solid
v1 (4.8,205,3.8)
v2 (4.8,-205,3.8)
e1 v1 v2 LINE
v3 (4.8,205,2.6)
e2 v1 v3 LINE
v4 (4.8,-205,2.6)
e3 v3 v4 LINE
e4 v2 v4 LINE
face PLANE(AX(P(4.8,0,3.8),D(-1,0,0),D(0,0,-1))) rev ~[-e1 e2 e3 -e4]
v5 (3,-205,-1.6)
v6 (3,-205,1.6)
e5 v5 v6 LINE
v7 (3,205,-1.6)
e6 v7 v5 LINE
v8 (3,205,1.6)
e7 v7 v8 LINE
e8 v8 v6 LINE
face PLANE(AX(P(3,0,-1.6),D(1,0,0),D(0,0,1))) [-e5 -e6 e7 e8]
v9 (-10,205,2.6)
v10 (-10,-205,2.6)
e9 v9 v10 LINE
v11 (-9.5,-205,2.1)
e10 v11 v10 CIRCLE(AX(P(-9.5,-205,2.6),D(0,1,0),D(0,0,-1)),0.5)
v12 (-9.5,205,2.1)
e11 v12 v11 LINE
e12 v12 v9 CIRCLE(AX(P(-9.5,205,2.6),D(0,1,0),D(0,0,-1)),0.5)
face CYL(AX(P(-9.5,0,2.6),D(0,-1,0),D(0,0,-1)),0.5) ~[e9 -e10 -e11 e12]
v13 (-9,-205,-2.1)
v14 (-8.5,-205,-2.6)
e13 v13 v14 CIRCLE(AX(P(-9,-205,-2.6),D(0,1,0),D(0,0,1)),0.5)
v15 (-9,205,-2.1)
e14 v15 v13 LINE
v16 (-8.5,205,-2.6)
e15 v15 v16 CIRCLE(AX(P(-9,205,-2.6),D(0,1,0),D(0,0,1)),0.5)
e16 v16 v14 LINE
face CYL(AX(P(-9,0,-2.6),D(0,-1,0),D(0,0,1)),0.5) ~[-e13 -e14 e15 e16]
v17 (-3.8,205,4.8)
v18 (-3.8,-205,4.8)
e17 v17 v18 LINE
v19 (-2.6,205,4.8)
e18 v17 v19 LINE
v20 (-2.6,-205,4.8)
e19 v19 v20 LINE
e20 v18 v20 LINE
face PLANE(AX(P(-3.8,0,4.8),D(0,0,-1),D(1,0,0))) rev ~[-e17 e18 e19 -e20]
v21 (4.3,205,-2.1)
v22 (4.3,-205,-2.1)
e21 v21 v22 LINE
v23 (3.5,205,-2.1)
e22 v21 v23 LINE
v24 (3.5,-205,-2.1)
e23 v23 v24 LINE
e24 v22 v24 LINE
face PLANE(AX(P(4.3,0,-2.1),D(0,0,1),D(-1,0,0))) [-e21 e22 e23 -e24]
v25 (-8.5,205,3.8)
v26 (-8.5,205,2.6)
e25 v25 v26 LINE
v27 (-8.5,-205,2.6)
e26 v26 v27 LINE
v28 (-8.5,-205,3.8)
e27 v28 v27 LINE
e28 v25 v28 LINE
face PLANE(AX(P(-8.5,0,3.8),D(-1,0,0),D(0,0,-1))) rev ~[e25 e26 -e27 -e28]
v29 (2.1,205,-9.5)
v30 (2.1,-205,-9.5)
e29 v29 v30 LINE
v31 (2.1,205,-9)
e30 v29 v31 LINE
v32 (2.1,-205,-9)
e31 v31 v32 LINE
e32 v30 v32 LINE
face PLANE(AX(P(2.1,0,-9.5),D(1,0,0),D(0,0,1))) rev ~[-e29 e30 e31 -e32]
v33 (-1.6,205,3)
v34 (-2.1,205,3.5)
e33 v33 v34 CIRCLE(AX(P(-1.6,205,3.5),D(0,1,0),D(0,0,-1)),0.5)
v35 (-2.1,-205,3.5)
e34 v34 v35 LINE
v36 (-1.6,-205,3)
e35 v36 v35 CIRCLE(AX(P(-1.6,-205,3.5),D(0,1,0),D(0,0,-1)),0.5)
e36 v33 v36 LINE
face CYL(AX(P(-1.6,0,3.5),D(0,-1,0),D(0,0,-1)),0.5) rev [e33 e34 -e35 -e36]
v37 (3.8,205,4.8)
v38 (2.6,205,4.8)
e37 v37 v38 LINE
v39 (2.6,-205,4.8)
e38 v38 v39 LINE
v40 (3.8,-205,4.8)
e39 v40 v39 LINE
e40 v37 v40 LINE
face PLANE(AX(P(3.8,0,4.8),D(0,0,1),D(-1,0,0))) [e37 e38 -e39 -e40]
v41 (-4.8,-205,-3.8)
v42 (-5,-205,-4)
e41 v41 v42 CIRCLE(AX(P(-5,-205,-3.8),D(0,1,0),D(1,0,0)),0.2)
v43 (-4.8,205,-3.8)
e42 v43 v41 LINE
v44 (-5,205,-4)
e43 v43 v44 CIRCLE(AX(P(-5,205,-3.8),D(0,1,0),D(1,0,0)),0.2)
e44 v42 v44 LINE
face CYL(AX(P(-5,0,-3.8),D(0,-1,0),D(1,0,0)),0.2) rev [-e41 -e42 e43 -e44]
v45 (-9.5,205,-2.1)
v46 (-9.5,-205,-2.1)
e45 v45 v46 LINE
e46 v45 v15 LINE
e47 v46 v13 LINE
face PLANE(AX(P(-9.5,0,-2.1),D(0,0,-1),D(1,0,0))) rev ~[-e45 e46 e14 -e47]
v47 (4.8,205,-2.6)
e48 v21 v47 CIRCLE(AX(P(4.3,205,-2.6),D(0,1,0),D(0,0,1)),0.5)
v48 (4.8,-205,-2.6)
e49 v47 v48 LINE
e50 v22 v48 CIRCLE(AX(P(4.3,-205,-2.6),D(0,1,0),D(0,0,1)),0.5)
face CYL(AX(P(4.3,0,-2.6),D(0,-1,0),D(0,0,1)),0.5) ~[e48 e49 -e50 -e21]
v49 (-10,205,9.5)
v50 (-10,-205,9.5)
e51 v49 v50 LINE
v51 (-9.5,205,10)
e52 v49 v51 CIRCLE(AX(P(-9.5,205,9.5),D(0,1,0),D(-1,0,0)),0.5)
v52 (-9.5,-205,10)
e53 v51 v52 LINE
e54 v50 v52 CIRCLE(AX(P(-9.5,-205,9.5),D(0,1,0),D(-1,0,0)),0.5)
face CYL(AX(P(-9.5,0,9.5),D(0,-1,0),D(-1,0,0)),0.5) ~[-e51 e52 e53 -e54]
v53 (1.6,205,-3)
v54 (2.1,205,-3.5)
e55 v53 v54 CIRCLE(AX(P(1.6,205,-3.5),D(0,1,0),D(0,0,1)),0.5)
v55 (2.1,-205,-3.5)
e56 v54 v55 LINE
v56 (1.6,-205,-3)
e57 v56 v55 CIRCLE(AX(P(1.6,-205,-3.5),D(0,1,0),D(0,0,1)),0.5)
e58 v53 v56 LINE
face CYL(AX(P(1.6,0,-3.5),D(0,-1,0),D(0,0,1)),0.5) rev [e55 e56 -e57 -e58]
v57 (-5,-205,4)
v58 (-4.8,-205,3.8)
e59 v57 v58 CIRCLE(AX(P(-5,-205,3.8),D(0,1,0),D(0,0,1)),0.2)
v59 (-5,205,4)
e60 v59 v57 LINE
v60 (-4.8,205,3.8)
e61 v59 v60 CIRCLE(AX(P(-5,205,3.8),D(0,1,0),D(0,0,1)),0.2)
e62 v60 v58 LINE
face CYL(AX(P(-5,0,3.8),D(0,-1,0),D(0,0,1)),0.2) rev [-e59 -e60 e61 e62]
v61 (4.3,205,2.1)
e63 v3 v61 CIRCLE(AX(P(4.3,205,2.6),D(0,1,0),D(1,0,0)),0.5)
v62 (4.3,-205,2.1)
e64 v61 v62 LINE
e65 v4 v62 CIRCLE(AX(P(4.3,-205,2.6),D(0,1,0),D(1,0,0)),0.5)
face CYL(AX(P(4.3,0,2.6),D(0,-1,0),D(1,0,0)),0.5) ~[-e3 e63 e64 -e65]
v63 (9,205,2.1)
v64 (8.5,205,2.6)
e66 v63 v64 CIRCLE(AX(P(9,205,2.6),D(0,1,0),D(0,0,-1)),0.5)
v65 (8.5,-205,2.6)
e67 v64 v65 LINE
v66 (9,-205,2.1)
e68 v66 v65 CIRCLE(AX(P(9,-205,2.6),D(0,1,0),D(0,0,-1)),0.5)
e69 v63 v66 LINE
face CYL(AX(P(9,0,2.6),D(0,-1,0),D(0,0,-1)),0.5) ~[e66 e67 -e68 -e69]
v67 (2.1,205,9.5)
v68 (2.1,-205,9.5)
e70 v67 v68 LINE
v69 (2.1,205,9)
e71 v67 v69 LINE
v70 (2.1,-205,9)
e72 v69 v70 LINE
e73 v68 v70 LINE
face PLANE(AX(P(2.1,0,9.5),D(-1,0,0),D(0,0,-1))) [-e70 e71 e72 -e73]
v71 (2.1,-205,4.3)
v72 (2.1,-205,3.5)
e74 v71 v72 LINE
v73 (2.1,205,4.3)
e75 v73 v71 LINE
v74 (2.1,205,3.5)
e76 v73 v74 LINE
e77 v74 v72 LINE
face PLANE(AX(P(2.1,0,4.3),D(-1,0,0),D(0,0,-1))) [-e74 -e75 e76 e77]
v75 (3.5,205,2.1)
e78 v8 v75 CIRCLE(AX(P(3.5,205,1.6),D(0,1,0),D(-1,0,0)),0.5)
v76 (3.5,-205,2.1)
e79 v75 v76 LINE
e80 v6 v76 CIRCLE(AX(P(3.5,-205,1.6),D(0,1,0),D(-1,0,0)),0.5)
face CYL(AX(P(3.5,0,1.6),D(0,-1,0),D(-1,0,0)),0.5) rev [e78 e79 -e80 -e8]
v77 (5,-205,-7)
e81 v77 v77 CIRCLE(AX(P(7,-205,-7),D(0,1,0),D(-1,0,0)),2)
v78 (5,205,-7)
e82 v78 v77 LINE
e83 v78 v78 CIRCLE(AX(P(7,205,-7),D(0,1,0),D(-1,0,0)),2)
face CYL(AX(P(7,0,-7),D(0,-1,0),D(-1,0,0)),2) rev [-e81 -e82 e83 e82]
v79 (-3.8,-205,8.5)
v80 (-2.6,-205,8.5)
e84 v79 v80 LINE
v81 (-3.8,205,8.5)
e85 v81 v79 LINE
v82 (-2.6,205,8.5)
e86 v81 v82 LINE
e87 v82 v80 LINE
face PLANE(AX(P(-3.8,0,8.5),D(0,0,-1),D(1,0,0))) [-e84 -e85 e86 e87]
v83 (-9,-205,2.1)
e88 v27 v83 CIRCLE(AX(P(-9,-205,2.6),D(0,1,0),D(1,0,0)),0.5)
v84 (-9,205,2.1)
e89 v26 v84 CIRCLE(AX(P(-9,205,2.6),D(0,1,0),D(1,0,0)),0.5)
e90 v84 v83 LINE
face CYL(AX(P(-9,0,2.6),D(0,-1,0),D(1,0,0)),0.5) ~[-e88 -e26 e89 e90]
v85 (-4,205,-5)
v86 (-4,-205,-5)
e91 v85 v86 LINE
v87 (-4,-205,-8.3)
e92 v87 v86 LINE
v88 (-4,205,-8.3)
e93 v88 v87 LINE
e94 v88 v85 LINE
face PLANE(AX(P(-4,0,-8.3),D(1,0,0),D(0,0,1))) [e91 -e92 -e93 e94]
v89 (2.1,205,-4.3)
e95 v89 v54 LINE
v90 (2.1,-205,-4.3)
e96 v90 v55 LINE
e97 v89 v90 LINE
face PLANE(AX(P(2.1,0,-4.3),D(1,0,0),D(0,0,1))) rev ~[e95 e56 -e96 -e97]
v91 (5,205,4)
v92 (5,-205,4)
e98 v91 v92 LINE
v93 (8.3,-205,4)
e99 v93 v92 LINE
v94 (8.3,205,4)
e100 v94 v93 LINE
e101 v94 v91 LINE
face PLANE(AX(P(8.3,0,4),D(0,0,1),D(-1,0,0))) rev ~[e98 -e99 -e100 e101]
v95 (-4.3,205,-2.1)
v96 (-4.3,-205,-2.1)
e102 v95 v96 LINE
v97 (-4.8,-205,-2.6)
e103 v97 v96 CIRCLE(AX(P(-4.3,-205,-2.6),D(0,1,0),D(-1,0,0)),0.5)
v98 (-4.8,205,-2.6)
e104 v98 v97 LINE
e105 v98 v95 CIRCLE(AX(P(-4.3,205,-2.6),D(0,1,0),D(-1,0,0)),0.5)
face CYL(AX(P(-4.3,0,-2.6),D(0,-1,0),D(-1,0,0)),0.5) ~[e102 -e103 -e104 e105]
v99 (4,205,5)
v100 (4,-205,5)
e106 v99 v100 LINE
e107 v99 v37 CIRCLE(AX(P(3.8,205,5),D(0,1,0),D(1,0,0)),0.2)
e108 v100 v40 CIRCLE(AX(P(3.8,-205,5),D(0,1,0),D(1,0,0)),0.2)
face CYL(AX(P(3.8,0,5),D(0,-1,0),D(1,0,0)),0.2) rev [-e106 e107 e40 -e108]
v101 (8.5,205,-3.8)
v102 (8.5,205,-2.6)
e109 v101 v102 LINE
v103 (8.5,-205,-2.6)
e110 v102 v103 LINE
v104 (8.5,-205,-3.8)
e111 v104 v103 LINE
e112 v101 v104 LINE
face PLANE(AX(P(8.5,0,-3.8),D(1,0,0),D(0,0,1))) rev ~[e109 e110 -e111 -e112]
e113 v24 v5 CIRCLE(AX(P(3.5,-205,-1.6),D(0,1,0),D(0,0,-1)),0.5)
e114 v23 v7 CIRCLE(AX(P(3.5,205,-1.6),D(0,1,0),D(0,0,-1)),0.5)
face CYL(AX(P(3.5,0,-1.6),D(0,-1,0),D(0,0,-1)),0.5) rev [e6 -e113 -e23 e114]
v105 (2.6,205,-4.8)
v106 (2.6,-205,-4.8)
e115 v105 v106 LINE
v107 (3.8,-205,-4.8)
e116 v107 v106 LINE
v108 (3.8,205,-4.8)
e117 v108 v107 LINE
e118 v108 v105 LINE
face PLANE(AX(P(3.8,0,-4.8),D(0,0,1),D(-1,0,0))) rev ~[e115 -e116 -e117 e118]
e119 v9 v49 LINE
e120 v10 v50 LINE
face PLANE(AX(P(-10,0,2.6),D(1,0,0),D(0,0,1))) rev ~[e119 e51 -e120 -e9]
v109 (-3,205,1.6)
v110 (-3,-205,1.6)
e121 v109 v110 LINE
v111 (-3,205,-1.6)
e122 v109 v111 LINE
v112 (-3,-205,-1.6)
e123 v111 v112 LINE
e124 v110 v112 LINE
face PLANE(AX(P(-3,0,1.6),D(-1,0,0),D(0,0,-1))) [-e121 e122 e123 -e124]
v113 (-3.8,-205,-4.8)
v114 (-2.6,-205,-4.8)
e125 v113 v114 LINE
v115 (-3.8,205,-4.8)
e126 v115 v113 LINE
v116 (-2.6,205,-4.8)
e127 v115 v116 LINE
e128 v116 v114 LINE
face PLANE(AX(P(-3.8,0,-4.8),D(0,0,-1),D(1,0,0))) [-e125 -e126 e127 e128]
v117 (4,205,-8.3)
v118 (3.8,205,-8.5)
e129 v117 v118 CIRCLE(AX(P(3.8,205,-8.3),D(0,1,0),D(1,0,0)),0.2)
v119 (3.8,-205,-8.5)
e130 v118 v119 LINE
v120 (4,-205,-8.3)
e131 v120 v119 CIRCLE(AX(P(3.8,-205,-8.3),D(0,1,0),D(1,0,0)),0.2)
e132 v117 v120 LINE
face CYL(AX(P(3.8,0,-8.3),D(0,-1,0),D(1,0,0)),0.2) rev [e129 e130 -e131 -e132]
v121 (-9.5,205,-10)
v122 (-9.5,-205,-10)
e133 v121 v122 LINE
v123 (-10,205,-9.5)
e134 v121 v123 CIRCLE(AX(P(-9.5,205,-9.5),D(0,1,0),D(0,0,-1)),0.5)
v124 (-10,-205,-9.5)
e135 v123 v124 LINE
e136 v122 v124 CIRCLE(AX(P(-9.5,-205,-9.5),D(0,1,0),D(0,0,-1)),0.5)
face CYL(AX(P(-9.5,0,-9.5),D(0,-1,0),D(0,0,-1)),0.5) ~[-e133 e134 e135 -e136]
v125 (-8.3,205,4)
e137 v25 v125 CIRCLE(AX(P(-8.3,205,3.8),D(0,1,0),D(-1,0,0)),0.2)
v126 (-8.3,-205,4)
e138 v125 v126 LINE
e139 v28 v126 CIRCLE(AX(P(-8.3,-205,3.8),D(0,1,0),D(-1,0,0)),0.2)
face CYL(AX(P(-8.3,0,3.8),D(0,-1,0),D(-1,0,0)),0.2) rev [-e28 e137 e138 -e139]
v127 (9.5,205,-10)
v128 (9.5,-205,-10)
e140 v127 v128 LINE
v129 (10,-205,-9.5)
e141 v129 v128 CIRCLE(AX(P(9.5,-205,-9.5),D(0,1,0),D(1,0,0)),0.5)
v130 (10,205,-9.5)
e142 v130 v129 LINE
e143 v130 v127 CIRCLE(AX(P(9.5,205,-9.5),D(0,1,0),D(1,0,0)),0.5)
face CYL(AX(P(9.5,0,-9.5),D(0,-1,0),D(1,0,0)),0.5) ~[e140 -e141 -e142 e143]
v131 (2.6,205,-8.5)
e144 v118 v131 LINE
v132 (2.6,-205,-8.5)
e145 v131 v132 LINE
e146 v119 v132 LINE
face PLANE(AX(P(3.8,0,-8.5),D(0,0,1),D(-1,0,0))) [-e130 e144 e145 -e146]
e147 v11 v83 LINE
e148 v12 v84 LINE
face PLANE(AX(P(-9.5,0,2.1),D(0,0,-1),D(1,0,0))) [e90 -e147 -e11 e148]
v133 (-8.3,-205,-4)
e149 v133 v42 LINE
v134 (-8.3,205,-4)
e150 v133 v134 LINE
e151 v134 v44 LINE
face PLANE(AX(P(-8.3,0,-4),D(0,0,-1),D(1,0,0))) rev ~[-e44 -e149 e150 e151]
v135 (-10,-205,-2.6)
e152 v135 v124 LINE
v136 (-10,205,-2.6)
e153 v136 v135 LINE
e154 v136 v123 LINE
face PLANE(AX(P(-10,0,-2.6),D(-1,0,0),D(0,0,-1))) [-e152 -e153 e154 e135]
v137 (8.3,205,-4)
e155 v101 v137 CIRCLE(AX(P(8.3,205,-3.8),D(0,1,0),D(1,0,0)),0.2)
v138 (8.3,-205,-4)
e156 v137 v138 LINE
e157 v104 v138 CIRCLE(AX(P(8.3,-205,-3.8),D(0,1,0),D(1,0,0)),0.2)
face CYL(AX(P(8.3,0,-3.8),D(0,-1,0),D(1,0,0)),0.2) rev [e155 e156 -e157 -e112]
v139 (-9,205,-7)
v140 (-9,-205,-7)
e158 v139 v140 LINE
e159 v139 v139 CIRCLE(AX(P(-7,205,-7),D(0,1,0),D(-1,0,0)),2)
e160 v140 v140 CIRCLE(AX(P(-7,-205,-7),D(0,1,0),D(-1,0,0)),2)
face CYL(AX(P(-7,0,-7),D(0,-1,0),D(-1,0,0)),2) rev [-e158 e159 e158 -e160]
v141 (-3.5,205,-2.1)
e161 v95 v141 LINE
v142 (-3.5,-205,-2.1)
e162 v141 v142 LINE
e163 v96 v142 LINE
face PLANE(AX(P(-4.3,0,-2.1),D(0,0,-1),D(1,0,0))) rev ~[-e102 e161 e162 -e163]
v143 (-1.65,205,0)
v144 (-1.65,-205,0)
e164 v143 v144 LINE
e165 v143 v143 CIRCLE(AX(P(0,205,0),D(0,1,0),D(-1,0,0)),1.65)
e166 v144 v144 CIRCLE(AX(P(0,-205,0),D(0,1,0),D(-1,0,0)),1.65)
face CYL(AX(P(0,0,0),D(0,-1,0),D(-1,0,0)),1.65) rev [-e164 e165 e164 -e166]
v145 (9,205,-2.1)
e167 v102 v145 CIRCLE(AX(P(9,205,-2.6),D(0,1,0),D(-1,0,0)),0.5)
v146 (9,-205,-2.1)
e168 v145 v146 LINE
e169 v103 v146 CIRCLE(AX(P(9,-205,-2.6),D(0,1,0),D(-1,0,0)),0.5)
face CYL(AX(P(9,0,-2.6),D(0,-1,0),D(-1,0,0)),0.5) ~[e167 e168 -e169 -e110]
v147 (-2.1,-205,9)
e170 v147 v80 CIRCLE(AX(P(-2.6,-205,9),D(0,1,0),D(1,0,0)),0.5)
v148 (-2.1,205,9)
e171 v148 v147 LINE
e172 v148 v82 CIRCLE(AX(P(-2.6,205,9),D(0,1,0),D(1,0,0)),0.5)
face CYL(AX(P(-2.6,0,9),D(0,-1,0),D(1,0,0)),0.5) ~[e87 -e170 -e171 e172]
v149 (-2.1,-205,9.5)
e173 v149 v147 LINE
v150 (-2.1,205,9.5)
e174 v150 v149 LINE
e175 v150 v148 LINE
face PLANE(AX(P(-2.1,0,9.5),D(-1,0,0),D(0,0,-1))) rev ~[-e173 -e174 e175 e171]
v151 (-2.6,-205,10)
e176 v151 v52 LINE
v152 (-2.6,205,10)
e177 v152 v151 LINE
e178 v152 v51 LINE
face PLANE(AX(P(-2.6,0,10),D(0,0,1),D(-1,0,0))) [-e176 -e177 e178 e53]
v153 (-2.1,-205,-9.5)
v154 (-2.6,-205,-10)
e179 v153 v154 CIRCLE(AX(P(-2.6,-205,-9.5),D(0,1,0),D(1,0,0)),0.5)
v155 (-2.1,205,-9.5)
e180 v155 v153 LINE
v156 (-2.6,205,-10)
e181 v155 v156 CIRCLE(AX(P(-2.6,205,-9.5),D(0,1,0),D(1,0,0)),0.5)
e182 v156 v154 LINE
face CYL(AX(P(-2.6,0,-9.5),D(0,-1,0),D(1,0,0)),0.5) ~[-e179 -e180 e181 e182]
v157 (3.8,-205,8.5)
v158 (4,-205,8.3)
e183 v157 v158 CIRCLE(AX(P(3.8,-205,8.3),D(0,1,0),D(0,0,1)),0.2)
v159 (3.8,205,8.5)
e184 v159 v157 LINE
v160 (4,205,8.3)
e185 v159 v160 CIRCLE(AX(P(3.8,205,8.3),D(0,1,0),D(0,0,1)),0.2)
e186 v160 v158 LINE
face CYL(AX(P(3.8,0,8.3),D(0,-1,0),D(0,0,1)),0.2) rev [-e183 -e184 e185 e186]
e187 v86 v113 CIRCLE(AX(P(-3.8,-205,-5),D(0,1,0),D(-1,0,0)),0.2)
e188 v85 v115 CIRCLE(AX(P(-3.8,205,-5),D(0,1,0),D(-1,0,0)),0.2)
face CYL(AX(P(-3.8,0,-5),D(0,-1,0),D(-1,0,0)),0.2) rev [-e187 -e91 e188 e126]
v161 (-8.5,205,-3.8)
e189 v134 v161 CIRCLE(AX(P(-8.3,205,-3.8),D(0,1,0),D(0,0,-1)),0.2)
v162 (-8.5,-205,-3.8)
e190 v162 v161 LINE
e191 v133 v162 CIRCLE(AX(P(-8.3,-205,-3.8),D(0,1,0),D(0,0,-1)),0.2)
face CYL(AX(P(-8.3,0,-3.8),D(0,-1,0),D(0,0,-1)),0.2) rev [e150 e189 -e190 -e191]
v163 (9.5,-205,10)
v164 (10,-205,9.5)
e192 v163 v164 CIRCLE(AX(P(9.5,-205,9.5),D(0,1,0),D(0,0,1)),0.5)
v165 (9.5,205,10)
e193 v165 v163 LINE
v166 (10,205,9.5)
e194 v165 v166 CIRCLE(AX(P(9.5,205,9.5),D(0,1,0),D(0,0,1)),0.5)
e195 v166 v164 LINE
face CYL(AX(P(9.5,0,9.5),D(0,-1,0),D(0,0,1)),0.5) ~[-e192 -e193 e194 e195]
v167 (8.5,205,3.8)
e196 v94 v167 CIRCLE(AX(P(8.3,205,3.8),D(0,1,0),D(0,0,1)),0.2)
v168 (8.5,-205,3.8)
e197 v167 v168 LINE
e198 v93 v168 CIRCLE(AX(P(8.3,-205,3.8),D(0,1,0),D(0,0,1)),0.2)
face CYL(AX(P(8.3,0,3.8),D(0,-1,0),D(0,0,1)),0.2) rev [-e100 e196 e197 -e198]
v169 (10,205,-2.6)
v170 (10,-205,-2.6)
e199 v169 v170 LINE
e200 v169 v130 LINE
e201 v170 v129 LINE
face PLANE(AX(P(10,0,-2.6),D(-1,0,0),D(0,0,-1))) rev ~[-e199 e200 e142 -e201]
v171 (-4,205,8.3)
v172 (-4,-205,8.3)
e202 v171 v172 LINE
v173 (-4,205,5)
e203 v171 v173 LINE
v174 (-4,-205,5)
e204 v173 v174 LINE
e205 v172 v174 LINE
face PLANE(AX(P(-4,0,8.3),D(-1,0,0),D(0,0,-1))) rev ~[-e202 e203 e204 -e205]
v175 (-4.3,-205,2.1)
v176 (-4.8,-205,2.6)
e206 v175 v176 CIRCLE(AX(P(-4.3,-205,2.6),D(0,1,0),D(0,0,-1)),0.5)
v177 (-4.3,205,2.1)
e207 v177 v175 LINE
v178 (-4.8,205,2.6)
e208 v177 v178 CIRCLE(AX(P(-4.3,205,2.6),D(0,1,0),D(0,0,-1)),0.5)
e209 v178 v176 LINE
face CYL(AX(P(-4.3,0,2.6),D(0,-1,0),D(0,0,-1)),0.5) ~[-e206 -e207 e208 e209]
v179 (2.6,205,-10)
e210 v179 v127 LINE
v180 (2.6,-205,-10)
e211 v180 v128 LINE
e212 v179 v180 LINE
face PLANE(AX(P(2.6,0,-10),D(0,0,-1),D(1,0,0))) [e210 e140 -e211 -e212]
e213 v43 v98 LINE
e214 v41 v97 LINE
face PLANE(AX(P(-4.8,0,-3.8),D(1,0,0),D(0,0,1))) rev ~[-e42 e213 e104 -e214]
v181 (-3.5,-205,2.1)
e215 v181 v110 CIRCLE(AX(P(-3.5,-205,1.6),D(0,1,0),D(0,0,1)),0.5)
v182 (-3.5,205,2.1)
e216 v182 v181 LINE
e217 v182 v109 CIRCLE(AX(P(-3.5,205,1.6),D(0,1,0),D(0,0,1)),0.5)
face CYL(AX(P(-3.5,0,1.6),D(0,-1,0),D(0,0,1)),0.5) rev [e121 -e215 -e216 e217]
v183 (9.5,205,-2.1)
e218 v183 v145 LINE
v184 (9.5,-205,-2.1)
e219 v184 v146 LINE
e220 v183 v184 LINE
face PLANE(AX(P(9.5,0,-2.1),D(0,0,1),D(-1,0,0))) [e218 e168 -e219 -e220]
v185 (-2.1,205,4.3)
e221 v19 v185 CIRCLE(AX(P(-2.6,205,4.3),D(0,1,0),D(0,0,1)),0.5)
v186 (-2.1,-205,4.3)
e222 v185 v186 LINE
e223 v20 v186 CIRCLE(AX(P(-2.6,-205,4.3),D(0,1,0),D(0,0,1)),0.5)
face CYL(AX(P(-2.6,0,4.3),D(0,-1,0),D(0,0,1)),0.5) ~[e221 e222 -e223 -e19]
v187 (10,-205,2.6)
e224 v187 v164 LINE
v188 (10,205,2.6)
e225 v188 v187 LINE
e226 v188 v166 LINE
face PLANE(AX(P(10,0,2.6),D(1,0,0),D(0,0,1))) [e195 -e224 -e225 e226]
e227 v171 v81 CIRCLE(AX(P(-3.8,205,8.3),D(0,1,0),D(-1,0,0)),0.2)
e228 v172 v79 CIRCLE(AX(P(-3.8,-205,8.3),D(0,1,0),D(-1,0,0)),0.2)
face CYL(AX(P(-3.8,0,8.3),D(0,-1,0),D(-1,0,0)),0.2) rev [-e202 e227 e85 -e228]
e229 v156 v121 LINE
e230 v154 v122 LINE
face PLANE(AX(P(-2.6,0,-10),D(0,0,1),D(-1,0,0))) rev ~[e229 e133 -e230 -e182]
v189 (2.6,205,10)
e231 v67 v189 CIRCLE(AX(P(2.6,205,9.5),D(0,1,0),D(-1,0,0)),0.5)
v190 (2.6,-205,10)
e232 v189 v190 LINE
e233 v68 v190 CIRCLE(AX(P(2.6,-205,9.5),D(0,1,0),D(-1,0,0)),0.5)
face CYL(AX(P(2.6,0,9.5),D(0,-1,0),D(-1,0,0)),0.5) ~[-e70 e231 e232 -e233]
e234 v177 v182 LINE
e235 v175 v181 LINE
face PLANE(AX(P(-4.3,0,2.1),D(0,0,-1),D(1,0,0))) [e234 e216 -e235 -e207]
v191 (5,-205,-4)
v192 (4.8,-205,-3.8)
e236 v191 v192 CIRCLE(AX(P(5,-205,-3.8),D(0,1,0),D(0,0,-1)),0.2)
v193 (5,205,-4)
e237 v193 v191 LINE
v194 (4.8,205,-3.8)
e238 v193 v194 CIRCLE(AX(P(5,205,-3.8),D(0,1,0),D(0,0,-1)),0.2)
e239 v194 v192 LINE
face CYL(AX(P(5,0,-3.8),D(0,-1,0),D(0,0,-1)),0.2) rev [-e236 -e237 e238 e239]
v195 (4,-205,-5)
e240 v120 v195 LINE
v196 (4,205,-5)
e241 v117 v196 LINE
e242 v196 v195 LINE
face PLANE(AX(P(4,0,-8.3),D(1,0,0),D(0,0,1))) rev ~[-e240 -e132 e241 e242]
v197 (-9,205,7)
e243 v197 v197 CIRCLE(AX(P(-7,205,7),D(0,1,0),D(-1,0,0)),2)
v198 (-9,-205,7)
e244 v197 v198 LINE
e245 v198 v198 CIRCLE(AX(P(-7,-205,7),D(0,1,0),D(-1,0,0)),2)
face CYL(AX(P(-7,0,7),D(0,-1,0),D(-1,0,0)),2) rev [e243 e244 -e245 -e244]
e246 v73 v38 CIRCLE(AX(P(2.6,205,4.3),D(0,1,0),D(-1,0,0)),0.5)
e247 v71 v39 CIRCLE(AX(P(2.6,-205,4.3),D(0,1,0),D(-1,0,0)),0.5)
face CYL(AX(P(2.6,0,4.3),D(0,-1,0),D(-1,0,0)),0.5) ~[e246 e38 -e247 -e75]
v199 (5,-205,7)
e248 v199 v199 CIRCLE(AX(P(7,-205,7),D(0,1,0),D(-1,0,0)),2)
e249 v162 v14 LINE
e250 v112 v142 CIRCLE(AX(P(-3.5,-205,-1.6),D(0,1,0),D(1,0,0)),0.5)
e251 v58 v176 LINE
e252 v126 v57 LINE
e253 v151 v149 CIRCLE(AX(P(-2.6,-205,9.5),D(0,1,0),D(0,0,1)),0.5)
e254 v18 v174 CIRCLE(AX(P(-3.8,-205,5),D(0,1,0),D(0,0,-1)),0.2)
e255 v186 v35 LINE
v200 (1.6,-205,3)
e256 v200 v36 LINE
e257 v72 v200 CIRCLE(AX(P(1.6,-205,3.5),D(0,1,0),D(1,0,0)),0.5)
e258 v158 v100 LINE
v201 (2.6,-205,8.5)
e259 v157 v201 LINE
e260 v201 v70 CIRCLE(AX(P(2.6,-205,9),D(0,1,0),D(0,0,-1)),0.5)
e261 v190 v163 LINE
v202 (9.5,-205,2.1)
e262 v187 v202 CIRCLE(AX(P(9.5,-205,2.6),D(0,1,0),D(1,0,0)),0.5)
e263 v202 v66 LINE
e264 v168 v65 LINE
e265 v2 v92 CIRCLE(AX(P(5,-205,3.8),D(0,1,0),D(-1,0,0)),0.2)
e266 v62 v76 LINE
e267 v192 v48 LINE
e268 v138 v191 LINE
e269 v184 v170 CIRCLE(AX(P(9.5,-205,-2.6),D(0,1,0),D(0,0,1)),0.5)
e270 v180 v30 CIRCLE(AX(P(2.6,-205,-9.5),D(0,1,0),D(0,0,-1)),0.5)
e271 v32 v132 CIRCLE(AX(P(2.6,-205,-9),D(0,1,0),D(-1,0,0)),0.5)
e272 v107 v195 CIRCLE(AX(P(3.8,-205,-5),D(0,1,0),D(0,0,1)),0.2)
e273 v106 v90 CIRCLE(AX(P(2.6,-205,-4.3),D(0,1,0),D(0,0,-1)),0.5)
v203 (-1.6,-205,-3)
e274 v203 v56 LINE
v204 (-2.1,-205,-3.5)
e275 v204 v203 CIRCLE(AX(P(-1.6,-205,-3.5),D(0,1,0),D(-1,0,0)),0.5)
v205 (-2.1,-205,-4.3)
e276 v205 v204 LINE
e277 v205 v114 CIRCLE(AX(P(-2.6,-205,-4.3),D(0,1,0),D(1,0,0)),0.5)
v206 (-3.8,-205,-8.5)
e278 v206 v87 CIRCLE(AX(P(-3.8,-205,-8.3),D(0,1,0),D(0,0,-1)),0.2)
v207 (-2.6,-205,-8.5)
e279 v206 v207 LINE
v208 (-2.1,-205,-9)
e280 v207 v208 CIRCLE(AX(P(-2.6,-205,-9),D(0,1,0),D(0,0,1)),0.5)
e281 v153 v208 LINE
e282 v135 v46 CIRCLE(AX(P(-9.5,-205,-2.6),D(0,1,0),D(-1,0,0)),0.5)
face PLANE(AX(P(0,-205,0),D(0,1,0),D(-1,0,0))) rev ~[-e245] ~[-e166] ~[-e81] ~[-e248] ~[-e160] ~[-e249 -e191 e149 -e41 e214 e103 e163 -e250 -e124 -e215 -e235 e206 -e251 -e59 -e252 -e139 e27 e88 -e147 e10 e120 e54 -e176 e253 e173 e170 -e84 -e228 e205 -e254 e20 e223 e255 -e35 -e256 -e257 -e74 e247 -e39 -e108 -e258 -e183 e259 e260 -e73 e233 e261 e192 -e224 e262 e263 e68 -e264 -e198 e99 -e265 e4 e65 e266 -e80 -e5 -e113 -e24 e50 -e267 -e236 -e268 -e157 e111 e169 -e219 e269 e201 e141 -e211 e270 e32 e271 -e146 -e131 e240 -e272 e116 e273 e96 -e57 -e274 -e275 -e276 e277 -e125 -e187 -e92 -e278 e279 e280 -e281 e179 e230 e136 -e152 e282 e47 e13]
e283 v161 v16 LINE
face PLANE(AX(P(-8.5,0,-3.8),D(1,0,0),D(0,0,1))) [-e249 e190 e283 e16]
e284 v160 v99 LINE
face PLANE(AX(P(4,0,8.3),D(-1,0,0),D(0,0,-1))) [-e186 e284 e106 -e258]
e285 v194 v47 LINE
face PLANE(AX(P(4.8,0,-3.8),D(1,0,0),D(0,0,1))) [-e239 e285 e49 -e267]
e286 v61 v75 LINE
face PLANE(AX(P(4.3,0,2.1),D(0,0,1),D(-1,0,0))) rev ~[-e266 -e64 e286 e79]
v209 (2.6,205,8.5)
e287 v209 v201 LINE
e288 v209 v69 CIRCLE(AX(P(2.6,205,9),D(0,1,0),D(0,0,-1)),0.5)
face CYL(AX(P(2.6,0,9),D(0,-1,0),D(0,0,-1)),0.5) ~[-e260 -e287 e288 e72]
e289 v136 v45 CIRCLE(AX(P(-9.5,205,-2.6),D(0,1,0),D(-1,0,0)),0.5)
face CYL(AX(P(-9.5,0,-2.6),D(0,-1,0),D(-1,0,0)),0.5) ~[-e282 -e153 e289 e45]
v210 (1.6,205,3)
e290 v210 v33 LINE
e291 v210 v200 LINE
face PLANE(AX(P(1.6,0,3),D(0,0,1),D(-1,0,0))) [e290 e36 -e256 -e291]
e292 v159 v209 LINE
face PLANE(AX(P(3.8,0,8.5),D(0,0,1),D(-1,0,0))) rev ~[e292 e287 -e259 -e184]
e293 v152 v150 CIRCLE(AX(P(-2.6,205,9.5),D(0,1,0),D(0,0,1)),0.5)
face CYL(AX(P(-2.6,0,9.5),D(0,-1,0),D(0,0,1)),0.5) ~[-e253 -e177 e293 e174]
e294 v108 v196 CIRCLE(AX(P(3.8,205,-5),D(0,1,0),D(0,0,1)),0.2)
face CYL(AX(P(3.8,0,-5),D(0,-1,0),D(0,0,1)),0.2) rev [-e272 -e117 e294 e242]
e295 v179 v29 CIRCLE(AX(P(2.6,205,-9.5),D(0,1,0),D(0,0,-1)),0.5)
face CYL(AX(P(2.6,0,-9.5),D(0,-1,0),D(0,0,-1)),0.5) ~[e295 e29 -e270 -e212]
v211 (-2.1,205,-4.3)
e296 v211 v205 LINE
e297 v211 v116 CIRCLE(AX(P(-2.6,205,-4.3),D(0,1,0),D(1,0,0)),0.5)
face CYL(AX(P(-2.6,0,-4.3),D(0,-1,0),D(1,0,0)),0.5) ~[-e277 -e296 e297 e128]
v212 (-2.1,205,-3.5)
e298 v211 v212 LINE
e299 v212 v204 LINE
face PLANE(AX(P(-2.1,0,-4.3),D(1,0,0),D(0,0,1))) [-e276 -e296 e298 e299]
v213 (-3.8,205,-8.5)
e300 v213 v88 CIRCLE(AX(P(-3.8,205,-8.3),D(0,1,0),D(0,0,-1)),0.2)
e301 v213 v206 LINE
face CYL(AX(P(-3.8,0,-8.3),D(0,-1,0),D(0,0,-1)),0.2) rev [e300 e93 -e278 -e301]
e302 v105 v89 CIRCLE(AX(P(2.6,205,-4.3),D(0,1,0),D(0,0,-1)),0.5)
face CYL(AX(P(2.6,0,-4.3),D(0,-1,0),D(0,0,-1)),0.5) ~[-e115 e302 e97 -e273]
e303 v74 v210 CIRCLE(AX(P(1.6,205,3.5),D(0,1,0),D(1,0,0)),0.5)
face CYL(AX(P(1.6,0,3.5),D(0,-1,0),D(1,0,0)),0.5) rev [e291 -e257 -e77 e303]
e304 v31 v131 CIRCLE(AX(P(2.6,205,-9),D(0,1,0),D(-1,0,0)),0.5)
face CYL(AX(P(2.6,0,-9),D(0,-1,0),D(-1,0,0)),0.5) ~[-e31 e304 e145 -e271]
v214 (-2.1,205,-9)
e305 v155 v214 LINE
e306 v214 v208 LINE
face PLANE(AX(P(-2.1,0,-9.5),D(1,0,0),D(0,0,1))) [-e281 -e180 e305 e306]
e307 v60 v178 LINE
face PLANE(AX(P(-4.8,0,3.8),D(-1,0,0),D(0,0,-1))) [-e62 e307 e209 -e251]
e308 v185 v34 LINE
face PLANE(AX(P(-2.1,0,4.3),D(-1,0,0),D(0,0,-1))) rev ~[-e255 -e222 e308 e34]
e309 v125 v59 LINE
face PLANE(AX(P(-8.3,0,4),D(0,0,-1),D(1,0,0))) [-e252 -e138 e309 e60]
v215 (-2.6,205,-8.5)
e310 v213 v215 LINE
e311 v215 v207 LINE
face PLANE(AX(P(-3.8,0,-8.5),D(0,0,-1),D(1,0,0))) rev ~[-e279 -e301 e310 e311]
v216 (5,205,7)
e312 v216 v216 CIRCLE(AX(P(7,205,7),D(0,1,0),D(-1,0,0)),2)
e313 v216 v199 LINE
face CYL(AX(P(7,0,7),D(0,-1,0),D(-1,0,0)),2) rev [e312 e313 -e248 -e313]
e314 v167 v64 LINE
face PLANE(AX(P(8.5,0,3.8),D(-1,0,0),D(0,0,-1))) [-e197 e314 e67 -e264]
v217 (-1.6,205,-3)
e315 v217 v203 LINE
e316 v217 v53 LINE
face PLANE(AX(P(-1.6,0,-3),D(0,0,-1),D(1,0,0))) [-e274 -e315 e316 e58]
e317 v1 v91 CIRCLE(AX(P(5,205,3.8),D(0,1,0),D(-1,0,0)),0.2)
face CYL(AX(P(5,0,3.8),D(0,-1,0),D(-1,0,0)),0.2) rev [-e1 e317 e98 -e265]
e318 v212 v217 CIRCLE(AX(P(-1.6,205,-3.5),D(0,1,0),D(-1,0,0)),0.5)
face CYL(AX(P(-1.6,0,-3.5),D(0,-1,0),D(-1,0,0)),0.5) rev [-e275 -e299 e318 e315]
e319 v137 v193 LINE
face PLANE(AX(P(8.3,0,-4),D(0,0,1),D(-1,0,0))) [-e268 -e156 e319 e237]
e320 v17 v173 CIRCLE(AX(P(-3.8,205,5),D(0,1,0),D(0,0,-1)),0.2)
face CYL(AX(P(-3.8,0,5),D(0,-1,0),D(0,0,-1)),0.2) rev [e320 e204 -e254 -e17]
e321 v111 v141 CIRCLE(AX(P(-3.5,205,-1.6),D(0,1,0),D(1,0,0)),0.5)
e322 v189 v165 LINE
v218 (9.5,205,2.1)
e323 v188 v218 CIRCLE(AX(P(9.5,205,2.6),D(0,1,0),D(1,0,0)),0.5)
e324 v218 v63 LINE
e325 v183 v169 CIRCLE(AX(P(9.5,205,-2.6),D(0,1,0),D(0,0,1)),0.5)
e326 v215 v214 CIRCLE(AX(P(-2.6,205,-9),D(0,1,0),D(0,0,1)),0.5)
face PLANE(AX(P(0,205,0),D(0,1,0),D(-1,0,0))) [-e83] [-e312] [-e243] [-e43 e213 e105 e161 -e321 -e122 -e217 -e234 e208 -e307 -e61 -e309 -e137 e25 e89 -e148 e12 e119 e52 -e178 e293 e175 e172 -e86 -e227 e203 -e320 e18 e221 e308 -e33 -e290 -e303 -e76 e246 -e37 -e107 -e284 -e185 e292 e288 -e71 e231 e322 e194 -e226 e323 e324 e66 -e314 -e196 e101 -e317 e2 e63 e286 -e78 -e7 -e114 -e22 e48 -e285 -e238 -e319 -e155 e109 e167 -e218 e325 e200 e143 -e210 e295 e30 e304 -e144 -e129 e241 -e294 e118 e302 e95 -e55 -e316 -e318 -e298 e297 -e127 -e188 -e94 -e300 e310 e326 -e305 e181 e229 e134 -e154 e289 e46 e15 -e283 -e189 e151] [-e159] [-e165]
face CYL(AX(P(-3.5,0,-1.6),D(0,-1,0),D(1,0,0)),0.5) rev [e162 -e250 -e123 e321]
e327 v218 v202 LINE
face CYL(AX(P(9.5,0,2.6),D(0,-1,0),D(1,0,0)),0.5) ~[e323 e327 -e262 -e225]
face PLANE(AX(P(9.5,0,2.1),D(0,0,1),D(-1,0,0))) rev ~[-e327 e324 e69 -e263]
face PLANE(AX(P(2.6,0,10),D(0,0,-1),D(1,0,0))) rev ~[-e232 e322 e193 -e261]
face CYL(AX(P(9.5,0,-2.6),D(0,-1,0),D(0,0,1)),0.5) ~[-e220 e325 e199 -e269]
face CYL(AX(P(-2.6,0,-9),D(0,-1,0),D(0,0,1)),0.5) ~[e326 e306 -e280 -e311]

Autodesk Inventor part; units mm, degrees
ref_plane "YZ Plane" through (0, 0, 0) normal (1, 0, 0) x (0, 1, 0)
ref_plane "XZ Plane" through (0, 0, 0) normal (0, 1, 0) x (-1, 0, 0)
ref_plane "XY Plane" through (0, 0, 0) normal (0, 0, 1) x (1, 0, 0)
sketch "スケッチ" plane through (0, 0, 0) normal (0, 1, 0) x (-1, 0, 0)
  line L0 (8.5, -3.8) -> (8.5, -2.6)
  line L1 (4, -8.3) -> (4, -5)
  circle A0 centre (7, -7) radius 2
  line L2 (10, -2.6) -> (10, -9.5)
  line L3 (2.6, -10) -> (9.5, -10)
  line L4 (2.1, -9.5) -> (2.1, -9)
  line L5 (8.5, -2.1) -> (8.5, -4)
  line L6 (3.8, -4.8) -> (2.6, -4.8)
  line L7 (4.8, -3.8) -> (4.8, -2.6)
  arc A1 (2.1, -4.3) -> (2.6, -4.8) centre (2.6, -4.3) ccw
  arc A2 (2.6, -8.5) -> (2.1, -9) centre (2.6, -9) ccw
  arc A3 (3.8, -8.5) -> (4, -8.3) centre (3.8, -8.3) ccw
  arc A4 (4, -5) -> (3.8, -4.8) centre (3.8, -5) ccw
  arc A5 (2.1, -3.5) -> (1.6, -3) centre (1.6, -3.5) ccw
  arc A6 (2.1, -9.5) -> (2.6, -10) centre (2.6, -9.5) ccw
  arc A7 (9.5, -10) -> (10, -9.5) centre (9.5, -9.5) ccw
  arc A8 (10, -2.6) -> (9.5, -2.1) centre (9.5, -2.6) ccw
  arc A9 (9, -2.1) -> (8.5, -2.6) centre (9, -2.6) ccw
  arc A10 (8.3, -4) -> (8.5, -3.8) centre (8.3, -3.8) ccw
  arc A11 (4.8, -3.8) -> (5, -4) centre (5, -3.8) ccw
  line L8 (4.3, -2.1) -> (3.5, -2.1)
  arc A12 (4.8, -2.6) -> (4.3, -2.1) centre (4.3, -2.6) ccw
  arc A13 (3, -1.6) -> (3.5, -2.1) centre (3.5, -1.6) ccw
  line L9 (2.1, -4.3) -> (2.1, -3.5)
  line L10 (3.8, -8.5) -> (2.6, -8.5)
  line L11 (9.5, -2.1) -> (9, -2.1)
  line L12 (8.3, -4) -> (5, -4)
  circle A14 centre (0, 0) radius 1.65
  arc A15 (8.5, 2.6) -> (9, 2.1) centre (9, 2.6) ccw
  line L13 (8.5, 3.8) -> (8.5, 2.6)
  arc A16 (8.5, 3.8) -> (8.3, 4) centre (8.3, 3.8) ccw
  line L14 (8.3, 4) -> (5, 4)
  line L15 (10, 2.6) -> (10, 9.5)
  arc A17 (10, 9.5) -> (9.5, 10) centre (9.5, 9.5) ccw
  circle A18 centre (7, 7) radius 2
  line L16 (4, 8.3) -> (4, 5)
  line L17 (2.6, 10) -> (9.5, 10)
  line L18 (9.5, 2.1) -> (9, 2.1)
  arc A19 (9.5, 2.1) -> (10, 2.6) centre (9.5, 2.6) ccw
  line L19 (3.8, 8.5) -> (2.6, 8.5)
  line L20 (4.8, 3.8) -> (4.8, 2.6)
  arc A20 (4.3, 2.1) -> (4.8, 2.6) centre (4.3, 2.6) ccw
  line L21 (2.1, 8.5) -> (4, 8.5)
  arc A21 (4, 8.3) -> (3.8, 8.5) centre (3.8, 8.3) ccw
  arc A22 (2.1, 9) -> (2.6, 8.5) centre (2.6, 9) ccw
  arc A23 (2.6, 10) -> (2.1, 9.5) centre (2.6, 9.5) ccw
  line L22 (2.1, 9.5) -> (2.1, 9)
  arc A24 (1.6, 3) -> (2.1, 3.5) centre (1.6, 3.5) ccw
  line L23 (3.8, 4.8) -> (2.6, 4.8)
  arc A25 (5, 4) -> (4.8, 3.8) centre (5, 3.8) ccw
  arc A26 (3.8, 4.8) -> (4, 5) centre (3.8, 5) ccw
  line L24 (4.3, 2.1) -> (3.5, 2.1)
  arc A27 (2.6, 4.8) -> (2.1, 4.3) centre (2.6, 4.3) ccw
  line L25 (2.1, 4.3) -> (2.1, 3.5)
  arc A28 (3.5, 2.1) -> (3, 1.6) centre (3.5, 1.6) ccw
  arc A29 (-2.6, 8.5) -> (-2.1, 9) centre (-2.6, 9) ccw
  line L26 (-3.8, 8.5) -> (-2.6, 8.5)
  arc A30 (-3.8, 8.5) -> (-4, 8.3) centre (-3.8, 8.3) ccw
  line L27 (-4, 8.3) -> (-4, 5)
  line L28 (-2.6, 10) -> (-9.5, 10)
  arc A31 (-9.5, 10) -> (-10, 9.5) centre (-9.5, 9.5) ccw
  circle A32 centre (-7, 7) radius 2
  line L29 (-8.3, 4) -> (-5, 4)
  line L30 (-10, 2.6) -> (-10, 9.5)
  line L31 (-2.1, 9.5) -> (-2.1, 9)
  arc A33 (-2.1, 9.5) -> (-2.6, 10) centre (-2.6, 9.5) ccw
  line L32 (-8.5, 3.8) -> (-8.5, 2.6)
  line L33 (-3.8, 4.8) -> (-2.6, 4.8)
  arc A34 (-2.1, 4.3) -> (-2.6, 4.8) centre (-2.6, 4.3) ccw
  line L34 (-8.5, 2.1) -> (-8.5, 4)
  arc A35 (-8.3, 4) -> (-8.5, 3.8) centre (-8.3, 3.8) ccw
  arc A36 (-9, 2.1) -> (-8.5, 2.6) centre (-9, 2.6) ccw
  arc A37 (-10, 2.6) -> (-9.5, 2.1) centre (-9.5, 2.6) ccw
  line L35 (-9.5, 2.1) -> (-9, 2.1)
  arc A38 (-3, 1.6) -> (-3.5, 2.1) centre (-3.5, 1.6) ccw
  line L36 (-4.8, 3.8) -> (-4.8, 2.6)
  arc A39 (-4, 5) -> (-3.8, 4.8) centre (-3.8, 5) ccw
  arc A40 (-4.8, 3.8) -> (-5, 4) centre (-5, 3.8) ccw
  line L37 (-2.1, 4.3) -> (-2.1, 3.5)
  arc A41 (-4.8, 2.6) -> (-4.3, 2.1) centre (-4.3, 2.6) ccw
  line L38 (-4.3, 2.1) -> (-3.5, 2.1)
  arc A42 (-2.1, 3.5) -> (-1.6, 3) centre (-1.6, 3.5) ccw
  arc A43 (-8.5, -2.6) -> (-9, -2.1) centre (-9, -2.6) ccw
  line L39 (-8.5, -3.8) -> (-8.5, -2.6)
  arc A44 (-8.5, -3.8) -> (-8.3, -4) centre (-8.3, -3.8) ccw
  line L40 (-8.3, -4) -> (-5, -4)
  line L41 (-10, -2.6) -> (-10, -9.5)
  arc A45 (-10, -9.5) -> (-9.5, -10) centre (-9.5, -9.5) ccw
  circle A46 centre (-7, -7) radius 2
  line L42 (-4, -8.3) -> (-4, -5)
  line L43 (-2.6, -10) -> (-9.5, -10)
  line L44 (-9.5, -2.1) -> (-9, -2.1)
  arc A47 (-9.5, -2.1) -> (-10, -2.6) centre (-9.5, -2.6) ccw
  line L45 (-3.8, -8.5) -> (-2.6, -8.5)
  line L46 (-4.8, -3.8) -> (-4.8, -2.6)
  arc A48 (-4.3, -2.1) -> (-4.8, -2.6) centre (-4.3, -2.6) ccw
  line L47 (-2.1, -8.5) -> (-4, -8.5)
  arc A49 (-4, -8.3) -> (-3.8, -8.5) centre (-3.8, -8.3) ccw
  arc A50 (-2.1, -9) -> (-2.6, -8.5) centre (-2.6, -9) ccw
  arc A51 (-2.6, -10) -> (-2.1, -9.5) centre (-2.6, -9.5) ccw
  line L48 (-2.1, -9.5) -> (-2.1, -9)
  arc A52 (-1.6, -3) -> (-2.1, -3.5) centre (-1.6, -3.5) ccw
  line L49 (-3.8, -4.8) -> (-2.6, -4.8)
  arc A53 (-5, -4) -> (-4.8, -3.8) centre (-5, -3.8) ccw
  arc A54 (-3.8, -4.8) -> (-4, -5) centre (-3.8, -5) ccw
  line L50 (-4.3, -2.1) -> (-3.5, -2.1)
  arc A55 (-2.6, -4.8) -> (-2.1, -4.3) centre (-2.6, -4.3) ccw
  line L51 (-2.1, -4.3) -> (-2.1, -3.5)
  arc A56 (-3.5, -2.1) -> (-3, -1.6) centre (-3.5, -1.6) ccw
  line L52 (1.6, -3) -> (-1.6, -3)
  line L53 (-3, -1.6) -> (-3, 1.6)
  line L54 (-1.6, 3) -> (1.6, 3)
  line L55 (3, 1.6) -> (3, -1.6)
  point P0 (2.1, -10)
  point P1 (10, 2.1)
  point P2 (-2.1, 10)
  point P3 (-10, -2.1)
  dimension "d12" = 4
  dimension "d14" = 3.7
  dimension "d16" = 0.5
  dimension "d17" = 0.5
  dimension "d18" = 0.2
  dimension "d19" = 0.5
  dimension "d20" = 0.5
  dimension "d24" = 0.5
  dimension "d25" = 0.2
  dimension "d28" = 0.5
  dimension "d31" = 1.5
  dimension "d36" = 3.7
  dimension "d37" = 1.5
  dimension "d58" = 3.3
  dimension "d65" = 10
  dimension "d67" = 2.1
  dimension "d68" = 2.1
  dimension "d69" = 1.9
  dimension "d70" = 7
  dimension "d72" = 2.1
  dimension "d73" = 2.1
  dimension "d74" = 1.9
  dimension "d75" = 7
  dimension "d76" = 10
  dimension "d80" = 360
  dimension "d82" = 3
extrude "ボディ" add sketch "スケッチ" along normal mid plane 410
equation "\"G_OFFSET_START\" = 0"
equation "\"G_OFFSET_END\" = 0"
equation "\"G_L\" = d90"
equation "\"d90\" = 330"
properties part number "s410" material "アルミニウム 6061"
